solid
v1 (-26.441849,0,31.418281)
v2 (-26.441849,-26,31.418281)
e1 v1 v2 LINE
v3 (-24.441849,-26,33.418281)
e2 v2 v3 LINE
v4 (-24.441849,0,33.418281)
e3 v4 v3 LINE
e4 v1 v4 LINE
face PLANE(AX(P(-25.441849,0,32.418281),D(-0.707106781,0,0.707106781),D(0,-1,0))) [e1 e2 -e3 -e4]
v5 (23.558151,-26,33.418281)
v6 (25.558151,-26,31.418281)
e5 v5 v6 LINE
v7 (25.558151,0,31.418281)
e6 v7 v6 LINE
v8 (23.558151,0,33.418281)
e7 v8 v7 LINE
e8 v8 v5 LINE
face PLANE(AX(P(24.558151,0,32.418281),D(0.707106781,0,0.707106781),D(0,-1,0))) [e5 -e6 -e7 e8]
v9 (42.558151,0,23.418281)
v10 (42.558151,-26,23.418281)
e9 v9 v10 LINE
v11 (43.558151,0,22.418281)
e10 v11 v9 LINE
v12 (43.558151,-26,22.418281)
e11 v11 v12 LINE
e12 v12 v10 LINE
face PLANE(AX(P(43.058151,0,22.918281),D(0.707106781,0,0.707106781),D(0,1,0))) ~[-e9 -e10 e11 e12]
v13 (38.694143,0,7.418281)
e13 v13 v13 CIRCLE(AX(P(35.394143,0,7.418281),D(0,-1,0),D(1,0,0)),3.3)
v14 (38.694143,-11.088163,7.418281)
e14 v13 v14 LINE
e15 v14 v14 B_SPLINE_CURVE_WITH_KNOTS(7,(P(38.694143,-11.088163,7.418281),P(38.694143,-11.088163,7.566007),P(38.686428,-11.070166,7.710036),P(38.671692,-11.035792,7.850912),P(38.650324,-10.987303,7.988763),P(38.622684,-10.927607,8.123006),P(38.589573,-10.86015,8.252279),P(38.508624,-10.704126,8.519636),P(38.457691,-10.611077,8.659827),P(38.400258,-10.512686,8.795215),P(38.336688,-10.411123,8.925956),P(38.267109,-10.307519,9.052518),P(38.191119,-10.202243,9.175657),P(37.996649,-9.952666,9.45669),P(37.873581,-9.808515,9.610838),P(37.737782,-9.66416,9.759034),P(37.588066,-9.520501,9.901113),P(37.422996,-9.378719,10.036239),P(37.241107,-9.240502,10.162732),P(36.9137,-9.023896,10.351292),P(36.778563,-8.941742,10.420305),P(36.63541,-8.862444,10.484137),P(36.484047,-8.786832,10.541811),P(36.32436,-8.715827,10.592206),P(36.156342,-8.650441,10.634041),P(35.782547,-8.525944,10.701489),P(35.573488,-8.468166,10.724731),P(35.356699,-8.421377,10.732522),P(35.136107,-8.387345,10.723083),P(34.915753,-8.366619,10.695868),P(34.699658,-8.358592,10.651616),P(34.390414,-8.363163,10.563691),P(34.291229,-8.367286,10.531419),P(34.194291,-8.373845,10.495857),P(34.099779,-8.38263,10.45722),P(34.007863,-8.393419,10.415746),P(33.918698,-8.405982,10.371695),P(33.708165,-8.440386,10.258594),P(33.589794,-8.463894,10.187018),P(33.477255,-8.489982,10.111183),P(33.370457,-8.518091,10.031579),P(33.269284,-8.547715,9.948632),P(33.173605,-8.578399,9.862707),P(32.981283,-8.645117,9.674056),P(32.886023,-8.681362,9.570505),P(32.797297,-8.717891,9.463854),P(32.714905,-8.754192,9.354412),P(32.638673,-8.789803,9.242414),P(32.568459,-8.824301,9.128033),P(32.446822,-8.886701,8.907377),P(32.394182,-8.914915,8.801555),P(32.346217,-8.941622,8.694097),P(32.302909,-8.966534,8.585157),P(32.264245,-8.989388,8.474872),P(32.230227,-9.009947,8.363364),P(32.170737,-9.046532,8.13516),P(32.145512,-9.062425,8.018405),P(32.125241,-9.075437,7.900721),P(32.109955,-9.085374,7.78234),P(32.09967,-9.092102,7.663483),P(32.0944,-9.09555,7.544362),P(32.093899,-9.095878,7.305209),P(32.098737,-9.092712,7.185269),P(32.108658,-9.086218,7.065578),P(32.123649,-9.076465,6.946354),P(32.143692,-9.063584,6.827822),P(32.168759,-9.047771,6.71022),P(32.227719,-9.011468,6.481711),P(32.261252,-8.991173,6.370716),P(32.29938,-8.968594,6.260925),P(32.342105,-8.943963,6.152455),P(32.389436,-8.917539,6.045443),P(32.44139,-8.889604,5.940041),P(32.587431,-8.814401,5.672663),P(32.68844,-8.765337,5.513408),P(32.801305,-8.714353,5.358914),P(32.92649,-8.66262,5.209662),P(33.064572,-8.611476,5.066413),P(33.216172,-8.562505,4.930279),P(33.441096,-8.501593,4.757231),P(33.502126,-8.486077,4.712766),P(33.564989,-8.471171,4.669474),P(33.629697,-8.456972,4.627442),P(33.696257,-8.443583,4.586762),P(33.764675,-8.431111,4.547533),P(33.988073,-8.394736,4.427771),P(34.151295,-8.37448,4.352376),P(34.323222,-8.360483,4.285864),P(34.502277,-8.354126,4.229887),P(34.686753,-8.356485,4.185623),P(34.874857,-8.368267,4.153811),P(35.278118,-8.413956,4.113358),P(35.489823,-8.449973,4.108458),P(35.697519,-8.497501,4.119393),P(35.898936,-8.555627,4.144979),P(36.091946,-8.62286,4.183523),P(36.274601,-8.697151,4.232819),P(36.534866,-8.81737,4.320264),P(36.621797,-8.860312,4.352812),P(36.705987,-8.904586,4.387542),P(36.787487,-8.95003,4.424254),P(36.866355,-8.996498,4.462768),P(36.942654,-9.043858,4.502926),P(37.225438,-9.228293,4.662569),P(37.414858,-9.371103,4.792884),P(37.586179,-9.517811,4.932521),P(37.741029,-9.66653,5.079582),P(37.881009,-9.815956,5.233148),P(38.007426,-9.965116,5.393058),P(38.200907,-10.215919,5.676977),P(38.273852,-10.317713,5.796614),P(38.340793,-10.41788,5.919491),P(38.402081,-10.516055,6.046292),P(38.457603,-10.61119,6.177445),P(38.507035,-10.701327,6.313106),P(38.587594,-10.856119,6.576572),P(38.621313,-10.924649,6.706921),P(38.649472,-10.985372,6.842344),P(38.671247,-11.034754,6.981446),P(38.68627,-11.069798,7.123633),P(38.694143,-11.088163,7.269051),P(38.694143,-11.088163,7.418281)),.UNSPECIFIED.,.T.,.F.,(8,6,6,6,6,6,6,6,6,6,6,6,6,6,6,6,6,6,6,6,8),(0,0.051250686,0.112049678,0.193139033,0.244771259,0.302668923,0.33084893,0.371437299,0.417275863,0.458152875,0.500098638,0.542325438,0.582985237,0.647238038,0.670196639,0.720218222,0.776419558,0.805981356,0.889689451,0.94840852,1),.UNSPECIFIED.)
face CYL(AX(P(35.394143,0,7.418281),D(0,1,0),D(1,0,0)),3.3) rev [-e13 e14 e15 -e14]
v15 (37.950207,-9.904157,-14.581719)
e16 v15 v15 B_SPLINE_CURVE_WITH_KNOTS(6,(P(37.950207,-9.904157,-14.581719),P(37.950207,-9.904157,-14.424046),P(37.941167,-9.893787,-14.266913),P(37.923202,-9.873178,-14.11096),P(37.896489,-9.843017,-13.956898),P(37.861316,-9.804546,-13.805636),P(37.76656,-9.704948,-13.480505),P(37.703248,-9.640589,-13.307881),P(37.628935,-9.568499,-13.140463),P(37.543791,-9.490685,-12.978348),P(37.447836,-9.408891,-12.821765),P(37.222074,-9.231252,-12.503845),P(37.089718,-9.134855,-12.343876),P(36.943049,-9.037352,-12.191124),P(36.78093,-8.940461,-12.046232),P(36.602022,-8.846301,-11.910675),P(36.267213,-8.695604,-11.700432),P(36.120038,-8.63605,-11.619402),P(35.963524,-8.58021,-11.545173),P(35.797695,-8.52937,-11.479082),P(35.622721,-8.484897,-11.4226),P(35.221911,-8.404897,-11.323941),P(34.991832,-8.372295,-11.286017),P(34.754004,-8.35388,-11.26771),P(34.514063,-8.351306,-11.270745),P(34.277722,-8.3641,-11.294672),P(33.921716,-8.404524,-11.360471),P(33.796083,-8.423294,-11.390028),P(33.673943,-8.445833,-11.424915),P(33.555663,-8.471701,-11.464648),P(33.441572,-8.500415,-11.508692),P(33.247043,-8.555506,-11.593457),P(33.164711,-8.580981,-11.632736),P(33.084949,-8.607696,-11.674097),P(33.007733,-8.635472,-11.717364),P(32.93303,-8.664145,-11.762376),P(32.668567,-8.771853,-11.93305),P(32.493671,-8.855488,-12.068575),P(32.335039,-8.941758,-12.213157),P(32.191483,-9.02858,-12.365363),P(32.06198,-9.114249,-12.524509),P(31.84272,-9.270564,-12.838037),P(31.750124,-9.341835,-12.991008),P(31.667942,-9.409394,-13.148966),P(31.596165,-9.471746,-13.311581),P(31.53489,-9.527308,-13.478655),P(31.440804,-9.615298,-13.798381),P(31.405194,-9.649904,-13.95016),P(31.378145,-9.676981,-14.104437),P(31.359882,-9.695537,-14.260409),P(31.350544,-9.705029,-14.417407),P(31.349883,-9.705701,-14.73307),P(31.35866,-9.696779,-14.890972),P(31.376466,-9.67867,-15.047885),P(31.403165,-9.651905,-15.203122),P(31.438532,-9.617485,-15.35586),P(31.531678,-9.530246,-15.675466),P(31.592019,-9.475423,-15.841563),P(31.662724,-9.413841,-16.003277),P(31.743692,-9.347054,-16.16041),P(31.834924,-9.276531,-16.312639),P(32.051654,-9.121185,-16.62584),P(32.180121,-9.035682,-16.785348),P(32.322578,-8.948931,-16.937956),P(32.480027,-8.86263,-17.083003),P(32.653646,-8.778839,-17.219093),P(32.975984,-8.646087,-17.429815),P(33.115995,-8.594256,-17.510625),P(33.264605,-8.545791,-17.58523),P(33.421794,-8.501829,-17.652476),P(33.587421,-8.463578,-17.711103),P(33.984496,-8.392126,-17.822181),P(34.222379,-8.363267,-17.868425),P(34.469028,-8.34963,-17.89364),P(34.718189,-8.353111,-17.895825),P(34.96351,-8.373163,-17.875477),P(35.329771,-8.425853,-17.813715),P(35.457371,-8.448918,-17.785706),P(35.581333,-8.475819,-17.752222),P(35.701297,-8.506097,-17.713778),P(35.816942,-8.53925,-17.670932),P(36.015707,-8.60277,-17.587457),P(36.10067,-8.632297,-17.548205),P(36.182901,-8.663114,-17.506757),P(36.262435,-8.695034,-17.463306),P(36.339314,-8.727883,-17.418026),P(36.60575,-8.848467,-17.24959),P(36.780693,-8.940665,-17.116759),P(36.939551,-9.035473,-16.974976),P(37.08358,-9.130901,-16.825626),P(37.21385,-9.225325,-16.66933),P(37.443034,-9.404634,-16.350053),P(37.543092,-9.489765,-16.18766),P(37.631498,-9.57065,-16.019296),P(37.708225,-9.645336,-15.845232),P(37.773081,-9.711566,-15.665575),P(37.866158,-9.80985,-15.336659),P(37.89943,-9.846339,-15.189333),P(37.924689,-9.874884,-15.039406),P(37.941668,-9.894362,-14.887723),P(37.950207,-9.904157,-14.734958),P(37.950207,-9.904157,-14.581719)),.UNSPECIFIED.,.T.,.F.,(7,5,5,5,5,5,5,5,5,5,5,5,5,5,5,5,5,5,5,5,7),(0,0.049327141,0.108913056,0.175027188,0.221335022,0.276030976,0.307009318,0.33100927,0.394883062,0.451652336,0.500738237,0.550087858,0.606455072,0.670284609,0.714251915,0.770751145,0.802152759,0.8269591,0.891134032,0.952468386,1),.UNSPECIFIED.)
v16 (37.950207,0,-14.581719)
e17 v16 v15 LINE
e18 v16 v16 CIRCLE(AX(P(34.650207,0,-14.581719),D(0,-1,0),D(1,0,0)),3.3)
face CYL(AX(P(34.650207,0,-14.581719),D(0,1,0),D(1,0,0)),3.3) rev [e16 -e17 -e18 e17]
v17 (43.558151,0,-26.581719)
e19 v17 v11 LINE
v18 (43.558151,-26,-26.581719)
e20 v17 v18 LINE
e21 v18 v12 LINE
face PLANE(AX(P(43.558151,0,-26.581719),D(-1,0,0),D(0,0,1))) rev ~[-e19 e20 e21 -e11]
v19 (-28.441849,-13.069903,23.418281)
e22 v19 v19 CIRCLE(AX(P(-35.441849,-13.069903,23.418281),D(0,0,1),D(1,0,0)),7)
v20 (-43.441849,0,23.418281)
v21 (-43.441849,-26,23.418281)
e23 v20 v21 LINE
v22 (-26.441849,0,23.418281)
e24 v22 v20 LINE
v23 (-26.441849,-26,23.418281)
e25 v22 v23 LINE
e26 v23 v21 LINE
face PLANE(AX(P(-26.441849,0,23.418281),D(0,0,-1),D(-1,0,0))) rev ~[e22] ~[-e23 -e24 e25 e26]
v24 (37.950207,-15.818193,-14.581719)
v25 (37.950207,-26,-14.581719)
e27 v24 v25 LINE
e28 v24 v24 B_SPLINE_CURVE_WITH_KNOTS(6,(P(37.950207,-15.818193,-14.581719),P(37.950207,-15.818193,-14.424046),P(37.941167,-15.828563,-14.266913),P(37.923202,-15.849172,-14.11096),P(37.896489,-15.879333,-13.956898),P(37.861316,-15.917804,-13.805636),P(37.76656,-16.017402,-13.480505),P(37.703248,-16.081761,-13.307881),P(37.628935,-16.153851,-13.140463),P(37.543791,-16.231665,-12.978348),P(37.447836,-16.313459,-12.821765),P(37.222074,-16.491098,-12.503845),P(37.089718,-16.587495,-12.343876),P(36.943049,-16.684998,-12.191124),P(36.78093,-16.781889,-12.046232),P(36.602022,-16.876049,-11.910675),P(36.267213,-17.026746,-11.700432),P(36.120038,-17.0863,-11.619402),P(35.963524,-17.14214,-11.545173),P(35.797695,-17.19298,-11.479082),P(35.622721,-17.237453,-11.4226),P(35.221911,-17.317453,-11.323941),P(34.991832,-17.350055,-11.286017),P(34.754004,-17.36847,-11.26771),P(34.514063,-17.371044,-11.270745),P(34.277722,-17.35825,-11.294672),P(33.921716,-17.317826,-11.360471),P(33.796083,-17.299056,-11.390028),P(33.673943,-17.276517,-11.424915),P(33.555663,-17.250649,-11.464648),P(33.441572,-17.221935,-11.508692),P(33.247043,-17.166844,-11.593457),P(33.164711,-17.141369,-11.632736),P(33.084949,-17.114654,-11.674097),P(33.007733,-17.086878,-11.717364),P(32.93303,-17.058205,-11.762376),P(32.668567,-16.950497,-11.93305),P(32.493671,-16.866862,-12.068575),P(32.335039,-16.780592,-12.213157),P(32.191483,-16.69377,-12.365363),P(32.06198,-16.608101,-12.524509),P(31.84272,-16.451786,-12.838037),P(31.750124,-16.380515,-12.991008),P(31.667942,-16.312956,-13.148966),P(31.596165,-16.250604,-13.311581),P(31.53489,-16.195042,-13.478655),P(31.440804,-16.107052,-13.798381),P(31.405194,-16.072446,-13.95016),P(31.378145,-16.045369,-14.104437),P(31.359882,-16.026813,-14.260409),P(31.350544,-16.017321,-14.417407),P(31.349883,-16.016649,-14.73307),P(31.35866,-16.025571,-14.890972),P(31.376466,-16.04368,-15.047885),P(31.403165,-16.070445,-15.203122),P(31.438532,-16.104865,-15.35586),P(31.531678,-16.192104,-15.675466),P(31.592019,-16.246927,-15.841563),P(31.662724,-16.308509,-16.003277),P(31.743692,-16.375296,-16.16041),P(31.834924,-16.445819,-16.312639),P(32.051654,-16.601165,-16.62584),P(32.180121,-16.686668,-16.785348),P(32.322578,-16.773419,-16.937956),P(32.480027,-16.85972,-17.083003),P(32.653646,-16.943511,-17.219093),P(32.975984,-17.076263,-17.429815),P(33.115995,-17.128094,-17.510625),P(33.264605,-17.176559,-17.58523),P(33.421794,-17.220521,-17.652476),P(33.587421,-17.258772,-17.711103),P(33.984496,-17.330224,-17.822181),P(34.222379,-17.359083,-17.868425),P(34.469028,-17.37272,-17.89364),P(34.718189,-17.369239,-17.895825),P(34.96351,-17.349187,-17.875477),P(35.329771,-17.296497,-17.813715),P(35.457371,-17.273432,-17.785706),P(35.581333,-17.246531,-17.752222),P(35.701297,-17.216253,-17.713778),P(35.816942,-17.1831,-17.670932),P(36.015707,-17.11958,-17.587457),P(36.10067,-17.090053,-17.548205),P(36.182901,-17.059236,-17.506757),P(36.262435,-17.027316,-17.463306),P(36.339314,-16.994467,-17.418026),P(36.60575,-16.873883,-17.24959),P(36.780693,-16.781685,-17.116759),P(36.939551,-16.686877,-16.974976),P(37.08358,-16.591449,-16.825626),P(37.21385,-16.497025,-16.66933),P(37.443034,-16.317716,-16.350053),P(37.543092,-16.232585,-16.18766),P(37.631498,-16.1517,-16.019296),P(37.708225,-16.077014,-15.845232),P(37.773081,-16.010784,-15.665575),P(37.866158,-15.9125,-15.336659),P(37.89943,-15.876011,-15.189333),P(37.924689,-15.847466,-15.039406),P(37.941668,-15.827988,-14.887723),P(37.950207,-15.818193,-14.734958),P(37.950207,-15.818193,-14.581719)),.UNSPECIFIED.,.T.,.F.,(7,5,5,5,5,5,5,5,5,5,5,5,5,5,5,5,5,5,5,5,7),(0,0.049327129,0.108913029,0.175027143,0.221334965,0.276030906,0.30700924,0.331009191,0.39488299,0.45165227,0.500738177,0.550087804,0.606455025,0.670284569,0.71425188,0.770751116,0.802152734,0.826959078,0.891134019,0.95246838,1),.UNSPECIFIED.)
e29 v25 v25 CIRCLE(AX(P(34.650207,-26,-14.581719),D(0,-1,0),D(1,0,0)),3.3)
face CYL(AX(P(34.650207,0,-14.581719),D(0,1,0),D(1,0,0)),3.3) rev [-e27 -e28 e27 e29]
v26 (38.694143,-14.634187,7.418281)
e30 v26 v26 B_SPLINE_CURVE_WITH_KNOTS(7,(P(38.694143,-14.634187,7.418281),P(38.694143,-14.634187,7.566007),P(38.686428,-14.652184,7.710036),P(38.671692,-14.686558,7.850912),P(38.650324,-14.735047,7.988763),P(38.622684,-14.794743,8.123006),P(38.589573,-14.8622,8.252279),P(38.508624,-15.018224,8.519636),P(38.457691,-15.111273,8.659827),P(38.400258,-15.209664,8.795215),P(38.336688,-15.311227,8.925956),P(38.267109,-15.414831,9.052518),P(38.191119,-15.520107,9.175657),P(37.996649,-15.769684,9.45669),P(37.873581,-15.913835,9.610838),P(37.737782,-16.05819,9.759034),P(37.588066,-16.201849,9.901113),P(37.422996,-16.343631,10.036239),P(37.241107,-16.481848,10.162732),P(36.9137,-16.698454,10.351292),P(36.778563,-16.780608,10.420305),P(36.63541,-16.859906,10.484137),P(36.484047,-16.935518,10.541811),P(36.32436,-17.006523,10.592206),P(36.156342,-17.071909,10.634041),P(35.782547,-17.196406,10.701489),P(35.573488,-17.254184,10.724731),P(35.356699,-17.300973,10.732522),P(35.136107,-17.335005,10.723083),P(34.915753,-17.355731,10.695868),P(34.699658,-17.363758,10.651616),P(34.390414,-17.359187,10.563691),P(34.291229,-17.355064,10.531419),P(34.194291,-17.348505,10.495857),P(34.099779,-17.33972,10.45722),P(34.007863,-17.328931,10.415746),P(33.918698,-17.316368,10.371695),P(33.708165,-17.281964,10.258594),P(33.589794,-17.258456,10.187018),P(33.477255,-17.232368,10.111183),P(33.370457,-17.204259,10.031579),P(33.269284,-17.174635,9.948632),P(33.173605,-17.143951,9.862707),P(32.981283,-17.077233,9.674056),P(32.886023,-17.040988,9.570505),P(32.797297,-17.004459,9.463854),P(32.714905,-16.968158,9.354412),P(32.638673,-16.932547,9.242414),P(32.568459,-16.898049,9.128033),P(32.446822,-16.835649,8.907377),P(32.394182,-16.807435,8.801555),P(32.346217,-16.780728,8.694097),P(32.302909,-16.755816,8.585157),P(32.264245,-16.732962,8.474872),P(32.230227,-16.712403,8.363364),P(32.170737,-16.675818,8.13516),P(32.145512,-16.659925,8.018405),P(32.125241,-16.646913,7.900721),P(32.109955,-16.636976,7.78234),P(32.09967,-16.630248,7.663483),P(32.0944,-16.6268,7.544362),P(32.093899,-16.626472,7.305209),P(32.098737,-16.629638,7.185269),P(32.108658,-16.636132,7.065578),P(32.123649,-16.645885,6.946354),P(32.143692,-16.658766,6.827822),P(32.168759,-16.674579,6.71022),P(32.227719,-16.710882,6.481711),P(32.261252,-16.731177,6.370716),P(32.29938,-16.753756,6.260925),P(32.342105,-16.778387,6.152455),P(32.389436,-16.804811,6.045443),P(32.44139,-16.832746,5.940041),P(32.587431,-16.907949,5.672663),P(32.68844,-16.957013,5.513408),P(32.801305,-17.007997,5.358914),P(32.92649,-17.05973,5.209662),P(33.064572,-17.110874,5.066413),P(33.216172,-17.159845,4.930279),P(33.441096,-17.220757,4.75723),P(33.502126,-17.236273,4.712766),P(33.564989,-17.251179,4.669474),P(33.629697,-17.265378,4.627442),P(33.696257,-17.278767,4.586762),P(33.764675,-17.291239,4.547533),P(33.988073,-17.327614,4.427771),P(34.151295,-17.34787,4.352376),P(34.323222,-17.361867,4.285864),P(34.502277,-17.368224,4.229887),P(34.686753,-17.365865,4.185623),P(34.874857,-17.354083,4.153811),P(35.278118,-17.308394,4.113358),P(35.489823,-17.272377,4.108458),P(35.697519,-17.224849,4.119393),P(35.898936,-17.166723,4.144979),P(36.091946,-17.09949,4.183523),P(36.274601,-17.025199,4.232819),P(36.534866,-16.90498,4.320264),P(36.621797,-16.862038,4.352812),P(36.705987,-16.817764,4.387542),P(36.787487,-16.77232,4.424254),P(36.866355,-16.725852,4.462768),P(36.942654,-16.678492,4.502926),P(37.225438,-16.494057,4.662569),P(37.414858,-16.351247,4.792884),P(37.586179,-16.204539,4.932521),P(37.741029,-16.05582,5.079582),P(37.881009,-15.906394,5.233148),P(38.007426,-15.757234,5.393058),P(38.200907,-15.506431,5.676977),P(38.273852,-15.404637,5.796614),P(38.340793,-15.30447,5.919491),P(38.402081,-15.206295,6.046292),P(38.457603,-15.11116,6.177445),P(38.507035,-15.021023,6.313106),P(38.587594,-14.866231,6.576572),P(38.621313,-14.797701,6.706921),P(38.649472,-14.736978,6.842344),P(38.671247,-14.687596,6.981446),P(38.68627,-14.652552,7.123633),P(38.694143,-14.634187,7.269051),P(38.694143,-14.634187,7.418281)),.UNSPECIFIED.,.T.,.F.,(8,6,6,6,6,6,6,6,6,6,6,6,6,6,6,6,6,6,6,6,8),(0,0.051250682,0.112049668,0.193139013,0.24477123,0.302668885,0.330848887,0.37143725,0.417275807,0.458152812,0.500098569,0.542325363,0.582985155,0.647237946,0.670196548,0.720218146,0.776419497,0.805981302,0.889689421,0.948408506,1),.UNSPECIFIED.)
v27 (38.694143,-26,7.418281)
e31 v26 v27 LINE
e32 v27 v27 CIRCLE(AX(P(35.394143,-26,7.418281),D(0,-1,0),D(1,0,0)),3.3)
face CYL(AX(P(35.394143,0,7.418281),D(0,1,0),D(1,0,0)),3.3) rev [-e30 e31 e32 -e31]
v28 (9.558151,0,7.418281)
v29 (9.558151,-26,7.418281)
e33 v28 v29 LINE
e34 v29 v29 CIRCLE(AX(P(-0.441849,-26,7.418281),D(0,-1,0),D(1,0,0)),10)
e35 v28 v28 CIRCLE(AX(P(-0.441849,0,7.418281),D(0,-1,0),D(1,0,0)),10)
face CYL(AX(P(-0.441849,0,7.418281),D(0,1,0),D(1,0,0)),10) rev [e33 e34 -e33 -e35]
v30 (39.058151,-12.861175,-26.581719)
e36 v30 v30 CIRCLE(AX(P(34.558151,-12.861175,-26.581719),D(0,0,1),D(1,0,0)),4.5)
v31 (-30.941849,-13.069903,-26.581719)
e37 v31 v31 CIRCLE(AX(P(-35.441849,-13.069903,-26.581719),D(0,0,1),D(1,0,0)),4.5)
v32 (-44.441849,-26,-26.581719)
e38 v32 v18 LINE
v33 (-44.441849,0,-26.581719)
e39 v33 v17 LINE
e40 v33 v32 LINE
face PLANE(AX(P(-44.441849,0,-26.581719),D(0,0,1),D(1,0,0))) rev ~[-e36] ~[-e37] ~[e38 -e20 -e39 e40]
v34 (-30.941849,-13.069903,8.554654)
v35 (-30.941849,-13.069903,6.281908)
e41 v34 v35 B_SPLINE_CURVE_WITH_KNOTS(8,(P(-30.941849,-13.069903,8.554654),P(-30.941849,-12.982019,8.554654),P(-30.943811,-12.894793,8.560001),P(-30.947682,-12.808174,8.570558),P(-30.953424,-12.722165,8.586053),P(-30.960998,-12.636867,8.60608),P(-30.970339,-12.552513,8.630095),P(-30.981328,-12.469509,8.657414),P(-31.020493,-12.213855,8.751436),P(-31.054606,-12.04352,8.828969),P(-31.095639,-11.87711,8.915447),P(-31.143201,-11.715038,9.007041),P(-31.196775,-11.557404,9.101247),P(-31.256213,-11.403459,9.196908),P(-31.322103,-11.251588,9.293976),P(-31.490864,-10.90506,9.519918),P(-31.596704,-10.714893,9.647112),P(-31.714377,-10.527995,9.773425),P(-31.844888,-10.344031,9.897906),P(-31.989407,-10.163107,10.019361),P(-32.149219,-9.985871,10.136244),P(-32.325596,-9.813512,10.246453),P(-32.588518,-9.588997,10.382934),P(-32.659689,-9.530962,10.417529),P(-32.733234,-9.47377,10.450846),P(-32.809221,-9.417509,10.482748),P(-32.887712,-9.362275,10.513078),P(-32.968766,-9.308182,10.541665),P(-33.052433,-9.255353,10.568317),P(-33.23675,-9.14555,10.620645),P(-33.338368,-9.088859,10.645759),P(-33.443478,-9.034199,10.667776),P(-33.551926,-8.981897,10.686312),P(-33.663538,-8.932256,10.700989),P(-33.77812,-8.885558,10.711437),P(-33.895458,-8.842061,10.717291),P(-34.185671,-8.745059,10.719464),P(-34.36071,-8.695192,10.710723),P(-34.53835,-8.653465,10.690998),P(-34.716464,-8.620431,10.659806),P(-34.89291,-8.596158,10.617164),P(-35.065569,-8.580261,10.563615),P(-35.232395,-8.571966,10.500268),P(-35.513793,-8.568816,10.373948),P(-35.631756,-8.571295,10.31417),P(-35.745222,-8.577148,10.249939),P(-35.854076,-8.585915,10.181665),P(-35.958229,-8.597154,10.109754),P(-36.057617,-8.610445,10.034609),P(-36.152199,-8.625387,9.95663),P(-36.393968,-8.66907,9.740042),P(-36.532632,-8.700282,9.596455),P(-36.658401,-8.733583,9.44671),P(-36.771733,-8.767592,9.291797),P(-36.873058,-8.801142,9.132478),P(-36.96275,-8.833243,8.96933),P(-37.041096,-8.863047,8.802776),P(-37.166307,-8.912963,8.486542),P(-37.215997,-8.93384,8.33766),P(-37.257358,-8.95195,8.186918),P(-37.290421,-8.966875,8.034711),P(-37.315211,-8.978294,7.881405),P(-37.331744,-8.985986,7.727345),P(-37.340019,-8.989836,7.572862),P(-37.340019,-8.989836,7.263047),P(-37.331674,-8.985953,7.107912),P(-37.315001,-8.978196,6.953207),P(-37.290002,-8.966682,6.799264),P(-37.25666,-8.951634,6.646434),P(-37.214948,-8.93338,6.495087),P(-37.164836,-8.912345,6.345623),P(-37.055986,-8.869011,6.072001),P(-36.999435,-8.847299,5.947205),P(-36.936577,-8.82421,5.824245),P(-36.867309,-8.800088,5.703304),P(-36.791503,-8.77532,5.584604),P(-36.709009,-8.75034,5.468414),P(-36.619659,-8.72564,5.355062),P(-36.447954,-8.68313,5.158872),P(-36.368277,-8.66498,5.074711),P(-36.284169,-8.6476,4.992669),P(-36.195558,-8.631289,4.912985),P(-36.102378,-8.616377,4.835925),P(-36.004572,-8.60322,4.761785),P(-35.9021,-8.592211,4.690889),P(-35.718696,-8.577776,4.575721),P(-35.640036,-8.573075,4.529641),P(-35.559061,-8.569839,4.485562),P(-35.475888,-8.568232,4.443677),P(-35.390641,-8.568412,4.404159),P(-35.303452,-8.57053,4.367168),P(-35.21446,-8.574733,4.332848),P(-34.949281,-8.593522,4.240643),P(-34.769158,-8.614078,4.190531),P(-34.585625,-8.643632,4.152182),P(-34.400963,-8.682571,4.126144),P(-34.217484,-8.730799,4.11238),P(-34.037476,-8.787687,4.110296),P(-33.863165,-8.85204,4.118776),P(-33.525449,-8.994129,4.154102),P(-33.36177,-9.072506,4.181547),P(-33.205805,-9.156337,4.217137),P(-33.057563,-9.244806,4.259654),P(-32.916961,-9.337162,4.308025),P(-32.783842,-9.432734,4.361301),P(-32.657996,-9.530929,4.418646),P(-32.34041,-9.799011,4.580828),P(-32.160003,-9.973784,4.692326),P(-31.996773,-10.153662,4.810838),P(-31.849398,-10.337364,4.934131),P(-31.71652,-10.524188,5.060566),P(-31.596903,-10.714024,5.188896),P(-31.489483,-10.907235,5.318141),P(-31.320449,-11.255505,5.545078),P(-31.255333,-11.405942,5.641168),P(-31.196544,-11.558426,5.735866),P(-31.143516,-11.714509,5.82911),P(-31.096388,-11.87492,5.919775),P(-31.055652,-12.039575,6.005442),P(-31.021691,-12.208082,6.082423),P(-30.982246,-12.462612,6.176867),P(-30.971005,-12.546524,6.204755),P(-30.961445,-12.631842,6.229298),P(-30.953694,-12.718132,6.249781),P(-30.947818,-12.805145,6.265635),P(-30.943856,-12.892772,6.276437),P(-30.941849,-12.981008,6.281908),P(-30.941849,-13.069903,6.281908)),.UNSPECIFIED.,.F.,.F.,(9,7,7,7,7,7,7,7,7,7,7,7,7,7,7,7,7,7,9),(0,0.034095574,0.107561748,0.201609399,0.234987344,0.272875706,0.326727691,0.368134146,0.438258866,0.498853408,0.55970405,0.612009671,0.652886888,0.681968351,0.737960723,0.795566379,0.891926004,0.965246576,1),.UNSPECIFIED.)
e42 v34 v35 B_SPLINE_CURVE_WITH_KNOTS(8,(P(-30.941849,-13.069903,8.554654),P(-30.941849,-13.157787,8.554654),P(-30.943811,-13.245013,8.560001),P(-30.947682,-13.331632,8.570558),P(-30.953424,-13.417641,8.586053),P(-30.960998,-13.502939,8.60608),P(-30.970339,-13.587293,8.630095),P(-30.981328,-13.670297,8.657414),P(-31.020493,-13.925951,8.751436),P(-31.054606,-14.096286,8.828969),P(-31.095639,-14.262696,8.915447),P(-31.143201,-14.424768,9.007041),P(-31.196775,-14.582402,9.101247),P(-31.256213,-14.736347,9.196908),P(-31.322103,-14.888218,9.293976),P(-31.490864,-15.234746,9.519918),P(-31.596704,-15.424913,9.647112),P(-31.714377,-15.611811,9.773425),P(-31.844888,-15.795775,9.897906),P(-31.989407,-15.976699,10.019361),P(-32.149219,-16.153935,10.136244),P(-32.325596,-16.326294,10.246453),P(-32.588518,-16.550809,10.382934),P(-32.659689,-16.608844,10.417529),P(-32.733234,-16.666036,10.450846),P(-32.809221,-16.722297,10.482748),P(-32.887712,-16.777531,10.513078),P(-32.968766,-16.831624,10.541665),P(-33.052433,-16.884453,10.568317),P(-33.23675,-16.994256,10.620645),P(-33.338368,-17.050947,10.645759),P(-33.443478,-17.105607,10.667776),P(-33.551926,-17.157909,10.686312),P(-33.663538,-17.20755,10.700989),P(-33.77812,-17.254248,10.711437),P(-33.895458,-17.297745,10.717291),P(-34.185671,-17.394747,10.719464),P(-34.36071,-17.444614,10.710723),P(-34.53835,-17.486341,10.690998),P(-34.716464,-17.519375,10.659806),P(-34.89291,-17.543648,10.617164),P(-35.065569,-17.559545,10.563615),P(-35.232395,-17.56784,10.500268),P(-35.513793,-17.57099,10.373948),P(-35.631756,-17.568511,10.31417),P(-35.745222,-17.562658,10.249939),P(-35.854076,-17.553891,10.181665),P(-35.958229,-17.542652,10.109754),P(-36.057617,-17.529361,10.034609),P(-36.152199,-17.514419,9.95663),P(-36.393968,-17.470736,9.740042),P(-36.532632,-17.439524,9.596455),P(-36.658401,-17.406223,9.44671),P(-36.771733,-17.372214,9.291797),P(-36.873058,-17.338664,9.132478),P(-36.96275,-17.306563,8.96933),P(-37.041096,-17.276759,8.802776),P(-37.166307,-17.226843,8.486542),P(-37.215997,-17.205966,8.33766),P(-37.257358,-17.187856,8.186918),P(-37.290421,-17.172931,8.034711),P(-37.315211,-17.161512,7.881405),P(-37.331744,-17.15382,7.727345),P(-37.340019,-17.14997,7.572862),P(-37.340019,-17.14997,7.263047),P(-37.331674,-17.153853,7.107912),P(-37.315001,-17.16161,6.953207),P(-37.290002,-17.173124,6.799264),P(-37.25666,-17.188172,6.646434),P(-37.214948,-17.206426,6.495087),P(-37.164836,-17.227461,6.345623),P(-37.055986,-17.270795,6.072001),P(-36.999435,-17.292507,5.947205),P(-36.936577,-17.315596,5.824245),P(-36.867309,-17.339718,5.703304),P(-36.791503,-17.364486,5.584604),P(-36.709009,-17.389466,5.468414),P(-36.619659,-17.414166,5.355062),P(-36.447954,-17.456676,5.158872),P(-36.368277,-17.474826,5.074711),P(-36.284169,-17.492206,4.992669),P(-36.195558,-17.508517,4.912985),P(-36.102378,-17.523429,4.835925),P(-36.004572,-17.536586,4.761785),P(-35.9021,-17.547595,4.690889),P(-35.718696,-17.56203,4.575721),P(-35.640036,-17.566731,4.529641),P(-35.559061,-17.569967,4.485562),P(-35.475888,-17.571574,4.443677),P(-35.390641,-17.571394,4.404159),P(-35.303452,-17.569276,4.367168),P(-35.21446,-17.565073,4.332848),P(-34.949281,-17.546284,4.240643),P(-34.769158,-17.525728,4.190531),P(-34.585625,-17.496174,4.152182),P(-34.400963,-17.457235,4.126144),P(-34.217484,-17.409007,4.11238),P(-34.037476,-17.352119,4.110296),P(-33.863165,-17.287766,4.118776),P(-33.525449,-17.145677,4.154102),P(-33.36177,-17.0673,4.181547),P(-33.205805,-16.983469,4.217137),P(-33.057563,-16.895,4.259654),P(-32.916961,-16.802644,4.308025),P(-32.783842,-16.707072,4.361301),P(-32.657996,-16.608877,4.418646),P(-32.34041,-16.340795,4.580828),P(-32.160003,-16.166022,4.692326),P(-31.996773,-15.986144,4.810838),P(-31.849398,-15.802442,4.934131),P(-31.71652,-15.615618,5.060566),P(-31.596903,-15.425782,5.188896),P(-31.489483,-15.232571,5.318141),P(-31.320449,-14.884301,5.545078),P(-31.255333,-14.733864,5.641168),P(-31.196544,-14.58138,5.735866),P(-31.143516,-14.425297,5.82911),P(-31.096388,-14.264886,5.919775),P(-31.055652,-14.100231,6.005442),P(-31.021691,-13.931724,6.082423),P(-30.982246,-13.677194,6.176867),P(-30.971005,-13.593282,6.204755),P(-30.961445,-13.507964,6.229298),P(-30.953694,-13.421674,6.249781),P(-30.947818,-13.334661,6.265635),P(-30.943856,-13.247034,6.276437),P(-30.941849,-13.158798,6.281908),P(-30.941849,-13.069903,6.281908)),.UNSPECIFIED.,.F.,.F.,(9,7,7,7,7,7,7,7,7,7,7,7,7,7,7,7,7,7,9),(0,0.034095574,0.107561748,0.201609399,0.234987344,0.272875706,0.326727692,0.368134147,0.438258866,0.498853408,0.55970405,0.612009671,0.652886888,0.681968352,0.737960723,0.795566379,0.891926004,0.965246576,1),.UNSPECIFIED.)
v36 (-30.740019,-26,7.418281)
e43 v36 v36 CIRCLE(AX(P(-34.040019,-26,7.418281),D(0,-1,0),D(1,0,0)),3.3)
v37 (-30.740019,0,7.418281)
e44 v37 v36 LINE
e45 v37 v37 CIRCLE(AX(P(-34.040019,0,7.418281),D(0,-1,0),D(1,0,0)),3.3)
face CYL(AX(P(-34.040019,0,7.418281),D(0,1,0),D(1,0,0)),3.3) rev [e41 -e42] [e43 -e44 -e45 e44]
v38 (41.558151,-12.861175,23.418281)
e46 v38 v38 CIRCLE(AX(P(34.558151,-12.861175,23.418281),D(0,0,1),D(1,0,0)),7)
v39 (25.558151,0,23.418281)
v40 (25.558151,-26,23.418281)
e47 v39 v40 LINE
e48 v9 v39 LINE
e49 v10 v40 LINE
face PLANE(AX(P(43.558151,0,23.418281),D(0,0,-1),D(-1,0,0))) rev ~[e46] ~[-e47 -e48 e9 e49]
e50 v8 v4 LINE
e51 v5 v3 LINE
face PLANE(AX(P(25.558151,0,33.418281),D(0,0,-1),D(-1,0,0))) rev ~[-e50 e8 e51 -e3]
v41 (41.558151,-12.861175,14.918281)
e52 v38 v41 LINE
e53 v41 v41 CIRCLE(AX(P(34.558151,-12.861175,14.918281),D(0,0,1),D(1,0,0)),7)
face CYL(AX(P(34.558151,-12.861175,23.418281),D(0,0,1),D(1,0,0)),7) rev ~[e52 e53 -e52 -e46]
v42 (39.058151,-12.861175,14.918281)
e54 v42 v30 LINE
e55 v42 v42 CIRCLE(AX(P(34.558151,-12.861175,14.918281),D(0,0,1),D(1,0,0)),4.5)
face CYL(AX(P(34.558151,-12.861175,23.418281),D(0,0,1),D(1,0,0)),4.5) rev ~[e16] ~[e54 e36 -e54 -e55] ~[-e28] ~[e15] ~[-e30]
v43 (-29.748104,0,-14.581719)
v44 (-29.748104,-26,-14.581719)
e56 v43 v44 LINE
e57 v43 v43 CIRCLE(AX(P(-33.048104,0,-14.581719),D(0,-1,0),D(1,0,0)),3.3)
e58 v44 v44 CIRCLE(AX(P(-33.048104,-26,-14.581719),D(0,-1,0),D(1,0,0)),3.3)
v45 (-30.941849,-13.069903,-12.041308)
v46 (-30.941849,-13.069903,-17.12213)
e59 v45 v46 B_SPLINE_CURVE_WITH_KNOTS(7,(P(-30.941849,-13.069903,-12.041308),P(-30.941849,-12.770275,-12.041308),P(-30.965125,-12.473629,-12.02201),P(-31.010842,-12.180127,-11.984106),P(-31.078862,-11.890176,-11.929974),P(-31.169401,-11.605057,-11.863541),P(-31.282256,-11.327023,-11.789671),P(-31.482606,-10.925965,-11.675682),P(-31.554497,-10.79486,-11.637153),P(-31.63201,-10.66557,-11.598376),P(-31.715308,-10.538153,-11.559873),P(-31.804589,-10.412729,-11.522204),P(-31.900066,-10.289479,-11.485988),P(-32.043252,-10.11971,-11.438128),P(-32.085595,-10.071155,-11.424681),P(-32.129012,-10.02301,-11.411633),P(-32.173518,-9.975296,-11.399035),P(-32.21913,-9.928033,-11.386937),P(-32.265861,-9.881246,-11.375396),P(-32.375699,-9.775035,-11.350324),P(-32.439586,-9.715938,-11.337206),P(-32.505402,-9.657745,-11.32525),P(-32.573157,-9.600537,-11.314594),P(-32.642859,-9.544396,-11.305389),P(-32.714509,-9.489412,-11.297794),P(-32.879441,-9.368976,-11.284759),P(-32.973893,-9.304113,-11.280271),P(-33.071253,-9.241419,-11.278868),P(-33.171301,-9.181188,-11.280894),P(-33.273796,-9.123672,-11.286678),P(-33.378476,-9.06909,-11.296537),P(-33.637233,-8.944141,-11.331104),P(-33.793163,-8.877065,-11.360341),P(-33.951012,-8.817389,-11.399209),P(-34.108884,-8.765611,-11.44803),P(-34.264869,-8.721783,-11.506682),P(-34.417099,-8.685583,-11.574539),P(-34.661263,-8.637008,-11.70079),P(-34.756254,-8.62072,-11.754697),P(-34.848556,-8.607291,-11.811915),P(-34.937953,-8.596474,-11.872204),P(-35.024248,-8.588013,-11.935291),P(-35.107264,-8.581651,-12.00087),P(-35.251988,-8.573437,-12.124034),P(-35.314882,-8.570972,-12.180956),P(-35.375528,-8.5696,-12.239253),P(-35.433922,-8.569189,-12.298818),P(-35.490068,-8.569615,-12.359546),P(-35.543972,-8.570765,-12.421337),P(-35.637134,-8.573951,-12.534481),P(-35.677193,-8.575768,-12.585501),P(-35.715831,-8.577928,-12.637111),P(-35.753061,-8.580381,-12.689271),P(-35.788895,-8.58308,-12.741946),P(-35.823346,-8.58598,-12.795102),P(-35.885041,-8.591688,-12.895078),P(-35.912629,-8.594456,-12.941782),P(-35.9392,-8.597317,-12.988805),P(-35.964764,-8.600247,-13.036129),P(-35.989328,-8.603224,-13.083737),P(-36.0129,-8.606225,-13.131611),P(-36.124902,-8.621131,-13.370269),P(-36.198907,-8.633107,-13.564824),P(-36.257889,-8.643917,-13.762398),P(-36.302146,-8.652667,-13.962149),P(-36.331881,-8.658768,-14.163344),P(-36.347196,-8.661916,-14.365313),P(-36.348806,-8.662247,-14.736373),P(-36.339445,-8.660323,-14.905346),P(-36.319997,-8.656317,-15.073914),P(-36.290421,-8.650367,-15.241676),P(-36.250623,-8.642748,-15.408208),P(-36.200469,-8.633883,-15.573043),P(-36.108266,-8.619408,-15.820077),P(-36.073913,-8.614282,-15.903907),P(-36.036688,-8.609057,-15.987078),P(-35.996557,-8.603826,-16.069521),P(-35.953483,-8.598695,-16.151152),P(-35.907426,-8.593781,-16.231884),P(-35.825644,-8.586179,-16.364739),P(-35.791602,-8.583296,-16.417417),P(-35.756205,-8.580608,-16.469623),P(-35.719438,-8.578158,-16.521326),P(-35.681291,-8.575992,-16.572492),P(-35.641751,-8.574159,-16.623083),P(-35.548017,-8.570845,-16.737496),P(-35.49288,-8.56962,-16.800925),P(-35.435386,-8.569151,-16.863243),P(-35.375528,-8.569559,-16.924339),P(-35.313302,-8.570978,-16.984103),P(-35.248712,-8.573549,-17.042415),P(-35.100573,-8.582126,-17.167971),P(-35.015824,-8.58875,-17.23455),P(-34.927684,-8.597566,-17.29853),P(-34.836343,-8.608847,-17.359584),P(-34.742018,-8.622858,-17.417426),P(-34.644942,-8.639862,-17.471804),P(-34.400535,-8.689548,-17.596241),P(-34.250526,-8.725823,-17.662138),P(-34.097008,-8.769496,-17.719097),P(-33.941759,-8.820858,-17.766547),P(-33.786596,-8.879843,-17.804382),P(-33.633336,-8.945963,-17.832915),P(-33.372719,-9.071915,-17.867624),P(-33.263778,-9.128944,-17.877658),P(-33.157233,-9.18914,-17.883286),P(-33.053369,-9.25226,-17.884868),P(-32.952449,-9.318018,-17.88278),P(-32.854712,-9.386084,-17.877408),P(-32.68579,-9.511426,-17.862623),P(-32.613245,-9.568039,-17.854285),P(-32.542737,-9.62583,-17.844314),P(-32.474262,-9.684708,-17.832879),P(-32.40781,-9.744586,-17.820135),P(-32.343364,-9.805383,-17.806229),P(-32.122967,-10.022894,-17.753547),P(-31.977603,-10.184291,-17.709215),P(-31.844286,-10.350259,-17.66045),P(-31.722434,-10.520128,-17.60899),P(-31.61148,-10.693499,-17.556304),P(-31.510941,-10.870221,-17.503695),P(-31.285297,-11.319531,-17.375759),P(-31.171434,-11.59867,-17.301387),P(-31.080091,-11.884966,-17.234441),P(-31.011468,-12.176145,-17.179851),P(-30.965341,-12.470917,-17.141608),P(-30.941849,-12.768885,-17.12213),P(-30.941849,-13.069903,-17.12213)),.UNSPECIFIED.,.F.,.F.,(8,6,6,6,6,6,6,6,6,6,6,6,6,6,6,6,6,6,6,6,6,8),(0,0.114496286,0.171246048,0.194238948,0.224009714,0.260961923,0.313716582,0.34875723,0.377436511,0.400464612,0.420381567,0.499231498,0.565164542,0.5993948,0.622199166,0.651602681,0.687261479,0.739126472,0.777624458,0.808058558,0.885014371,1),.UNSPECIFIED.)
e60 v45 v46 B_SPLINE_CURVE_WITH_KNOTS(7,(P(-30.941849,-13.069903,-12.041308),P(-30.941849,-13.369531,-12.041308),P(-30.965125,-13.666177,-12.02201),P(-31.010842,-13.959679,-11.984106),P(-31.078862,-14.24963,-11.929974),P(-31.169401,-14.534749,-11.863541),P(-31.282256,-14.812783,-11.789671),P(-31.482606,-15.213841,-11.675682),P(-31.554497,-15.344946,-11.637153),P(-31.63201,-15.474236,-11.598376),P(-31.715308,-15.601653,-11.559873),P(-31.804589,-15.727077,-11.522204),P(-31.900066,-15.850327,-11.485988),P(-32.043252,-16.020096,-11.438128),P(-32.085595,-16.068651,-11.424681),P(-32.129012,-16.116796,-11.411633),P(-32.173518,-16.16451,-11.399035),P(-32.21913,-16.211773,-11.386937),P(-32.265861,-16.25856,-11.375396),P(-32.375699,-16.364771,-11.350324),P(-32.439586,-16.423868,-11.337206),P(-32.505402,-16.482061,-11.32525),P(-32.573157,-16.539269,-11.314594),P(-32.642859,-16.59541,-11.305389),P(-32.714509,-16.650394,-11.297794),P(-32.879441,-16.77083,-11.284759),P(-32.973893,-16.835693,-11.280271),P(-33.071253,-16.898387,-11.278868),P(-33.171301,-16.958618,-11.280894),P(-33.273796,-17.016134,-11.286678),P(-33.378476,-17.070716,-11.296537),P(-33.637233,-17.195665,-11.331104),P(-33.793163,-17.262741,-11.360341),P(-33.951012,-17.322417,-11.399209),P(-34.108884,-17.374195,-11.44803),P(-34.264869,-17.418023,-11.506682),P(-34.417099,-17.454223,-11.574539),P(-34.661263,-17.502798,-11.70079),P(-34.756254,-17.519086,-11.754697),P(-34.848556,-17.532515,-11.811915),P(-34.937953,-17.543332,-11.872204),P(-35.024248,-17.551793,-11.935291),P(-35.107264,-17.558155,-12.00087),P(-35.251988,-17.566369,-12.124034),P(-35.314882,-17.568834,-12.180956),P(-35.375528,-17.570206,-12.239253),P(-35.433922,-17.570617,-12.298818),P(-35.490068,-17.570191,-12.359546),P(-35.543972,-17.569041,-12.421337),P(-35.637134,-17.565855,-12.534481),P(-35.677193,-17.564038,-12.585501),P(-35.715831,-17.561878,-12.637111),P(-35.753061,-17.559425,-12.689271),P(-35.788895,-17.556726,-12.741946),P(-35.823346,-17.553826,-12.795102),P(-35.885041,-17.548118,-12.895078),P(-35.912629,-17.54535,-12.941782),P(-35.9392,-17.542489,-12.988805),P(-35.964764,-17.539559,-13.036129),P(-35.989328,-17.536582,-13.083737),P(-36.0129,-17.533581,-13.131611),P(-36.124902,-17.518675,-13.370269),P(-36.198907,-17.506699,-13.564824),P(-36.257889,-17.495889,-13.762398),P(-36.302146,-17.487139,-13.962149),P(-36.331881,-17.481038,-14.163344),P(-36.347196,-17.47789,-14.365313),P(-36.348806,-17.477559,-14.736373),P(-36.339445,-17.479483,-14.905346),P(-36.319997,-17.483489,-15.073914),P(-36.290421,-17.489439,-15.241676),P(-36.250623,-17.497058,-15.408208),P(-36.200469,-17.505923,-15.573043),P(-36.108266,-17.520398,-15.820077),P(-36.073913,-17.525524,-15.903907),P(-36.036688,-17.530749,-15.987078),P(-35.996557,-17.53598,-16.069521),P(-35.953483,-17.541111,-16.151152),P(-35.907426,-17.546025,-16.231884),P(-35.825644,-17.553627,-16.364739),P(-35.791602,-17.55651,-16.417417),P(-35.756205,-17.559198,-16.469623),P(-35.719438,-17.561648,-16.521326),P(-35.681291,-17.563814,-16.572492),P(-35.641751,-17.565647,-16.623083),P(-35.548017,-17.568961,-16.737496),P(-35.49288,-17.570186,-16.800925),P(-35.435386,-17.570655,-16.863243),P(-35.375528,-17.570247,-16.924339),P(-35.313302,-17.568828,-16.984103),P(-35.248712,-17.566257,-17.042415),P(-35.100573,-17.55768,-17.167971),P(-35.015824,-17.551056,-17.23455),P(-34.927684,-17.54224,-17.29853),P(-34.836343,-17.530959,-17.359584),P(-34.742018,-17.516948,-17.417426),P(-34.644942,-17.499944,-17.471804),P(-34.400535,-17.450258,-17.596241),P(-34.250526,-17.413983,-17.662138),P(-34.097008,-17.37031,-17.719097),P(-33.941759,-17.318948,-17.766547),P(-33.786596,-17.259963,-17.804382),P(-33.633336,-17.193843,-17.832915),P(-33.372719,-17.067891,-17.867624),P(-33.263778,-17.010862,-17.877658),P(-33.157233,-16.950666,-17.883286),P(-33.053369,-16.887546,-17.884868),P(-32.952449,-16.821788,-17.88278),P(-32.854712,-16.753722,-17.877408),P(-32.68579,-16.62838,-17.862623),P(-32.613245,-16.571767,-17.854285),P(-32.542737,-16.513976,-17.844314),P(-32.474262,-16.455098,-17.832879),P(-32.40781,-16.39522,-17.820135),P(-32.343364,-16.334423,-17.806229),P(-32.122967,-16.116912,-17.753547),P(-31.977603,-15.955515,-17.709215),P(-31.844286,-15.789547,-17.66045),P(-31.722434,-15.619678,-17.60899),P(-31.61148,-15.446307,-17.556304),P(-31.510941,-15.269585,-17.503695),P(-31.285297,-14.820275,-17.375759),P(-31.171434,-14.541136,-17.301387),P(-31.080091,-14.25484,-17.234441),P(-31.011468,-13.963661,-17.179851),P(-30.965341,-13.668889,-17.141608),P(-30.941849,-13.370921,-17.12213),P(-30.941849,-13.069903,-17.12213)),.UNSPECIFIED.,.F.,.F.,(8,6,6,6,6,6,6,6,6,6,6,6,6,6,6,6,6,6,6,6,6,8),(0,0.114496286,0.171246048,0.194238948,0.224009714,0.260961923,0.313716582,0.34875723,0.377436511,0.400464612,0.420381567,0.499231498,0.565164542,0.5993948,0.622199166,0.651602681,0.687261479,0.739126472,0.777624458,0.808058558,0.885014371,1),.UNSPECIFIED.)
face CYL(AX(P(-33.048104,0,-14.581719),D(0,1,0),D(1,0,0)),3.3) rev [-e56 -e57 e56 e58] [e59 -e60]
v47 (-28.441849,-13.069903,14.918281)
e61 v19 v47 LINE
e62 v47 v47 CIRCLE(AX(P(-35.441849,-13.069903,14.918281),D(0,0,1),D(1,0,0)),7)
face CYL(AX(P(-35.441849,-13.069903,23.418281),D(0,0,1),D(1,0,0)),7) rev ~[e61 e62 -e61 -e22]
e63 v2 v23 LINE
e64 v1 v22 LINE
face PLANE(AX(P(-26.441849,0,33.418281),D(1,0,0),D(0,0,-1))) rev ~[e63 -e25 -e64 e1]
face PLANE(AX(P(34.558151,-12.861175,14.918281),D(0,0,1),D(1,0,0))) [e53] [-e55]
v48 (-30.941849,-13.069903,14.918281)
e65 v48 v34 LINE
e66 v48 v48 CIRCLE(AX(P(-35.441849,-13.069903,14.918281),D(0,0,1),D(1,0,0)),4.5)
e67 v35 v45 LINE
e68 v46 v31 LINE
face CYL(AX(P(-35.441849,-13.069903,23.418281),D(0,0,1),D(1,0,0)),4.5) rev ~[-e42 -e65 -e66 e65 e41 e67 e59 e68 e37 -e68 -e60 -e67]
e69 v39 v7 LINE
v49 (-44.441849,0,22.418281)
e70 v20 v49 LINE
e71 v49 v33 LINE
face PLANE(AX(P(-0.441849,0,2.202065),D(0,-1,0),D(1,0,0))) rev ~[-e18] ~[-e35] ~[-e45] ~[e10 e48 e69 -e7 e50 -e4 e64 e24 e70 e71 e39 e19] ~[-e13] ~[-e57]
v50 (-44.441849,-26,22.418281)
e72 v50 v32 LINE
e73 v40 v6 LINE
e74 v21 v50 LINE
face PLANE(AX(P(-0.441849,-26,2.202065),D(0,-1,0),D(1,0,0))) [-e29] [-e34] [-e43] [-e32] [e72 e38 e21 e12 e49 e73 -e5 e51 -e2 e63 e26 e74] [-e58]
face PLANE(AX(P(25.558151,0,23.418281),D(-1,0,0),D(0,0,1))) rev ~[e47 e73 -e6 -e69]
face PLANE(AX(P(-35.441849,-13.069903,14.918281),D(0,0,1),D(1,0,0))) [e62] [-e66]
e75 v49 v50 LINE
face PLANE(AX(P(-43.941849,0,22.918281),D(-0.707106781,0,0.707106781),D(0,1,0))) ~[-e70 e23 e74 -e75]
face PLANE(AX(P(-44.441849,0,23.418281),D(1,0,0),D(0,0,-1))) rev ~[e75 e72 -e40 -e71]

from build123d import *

# Parameters (mm, degrees)
F0_R     = 3.3
F0_R_2   = 10
F1_DEPTH = 26
F2_SIZE  = 1
F3_SIZE  = 2
F4_R     = 7
F4_R_2   = 4.5
F5_DEPTH = 8.5
F6_DEPTH = 50.001


with BuildPart() as f1:
    # F0 (on Front) → F1 (new body)
    with BuildSketch(Plane.XZ):
        Polygon((-26.441849, 23.418281), (-44.441849, 23.418281), (-44.441849, -26.581719), (43.558151, -26.581719), (43.558151, 23.418281), (25.558151, 23.418281), (25.558151, 33.418281), (-26.441849, 33.418281), align=None)
        with Locations((-33.048104, -14.581719)):
            Circle(F0_R, mode=Mode.SUBTRACT)
        with Locations((34.650207, -14.581719)):
            Circle(F0_R, mode=Mode.SUBTRACT)
        with Locations((-34.040019, 7.418281)):
            Circle(F0_R, mode=Mode.SUBTRACT)
        with Locations((-0.441849, 7.418281)):
            Circle(F0_R_2, mode=Mode.SUBTRACT)
        with Locations((35.394143, 7.418281)):
            Circle(F0_R, mode=Mode.SUBTRACT)
    extrude(amount=F1_DEPTH)

    # F2
    f2_edges = [f1.edges().sort_by_distance(p)[0] for p in [
        (-44.441849, -13, 23.418281),
        (43.558151, -13, 23.418281),
    ]]
    chamfer(f2_edges, length=F2_SIZE)

    # F3
    f3_edges = [f1.edges().sort_by_distance(p)[0] for p in [
        (-26.441849, -13, 33.418281),
        (25.558151, -13, 33.418281),
    ]]
    chamfer(f3_edges, length=F3_SIZE)

    # F4 (on face) → F5 (cut)
    with BuildSketch(Plane.XY.offset(23.418281)):
        with Locations((-35.441849, -13.069903)):
            Circle(F4_R)
        with Locations((-35.441849, -13.069903)):
            Circle(F4_R_2, mode=Mode.SUBTRACT)
        with Locations((34.558151, -12.861175)):
            Circle(F4_R)
        with Locations((34.558151, -12.861175)):
            Circle(F4_R_2, mode=Mode.SUBTRACT)
    extrude(amount=-F5_DEPTH, mode=Mode.SUBTRACT)

    # F4 (on face) → F6 (cut, through all)
    with BuildSketch(Plane.XY.offset(23.418281)):
        with Locations((-35.441849, -13.069903)):
            Circle(F4_R_2)
        with Locations((34.558151, -12.861175)):
            Circle(F4_R_2)
    extrude(amount=-F6_DEPTH, mode=Mode.SUBTRACT)


solid = f1.part
